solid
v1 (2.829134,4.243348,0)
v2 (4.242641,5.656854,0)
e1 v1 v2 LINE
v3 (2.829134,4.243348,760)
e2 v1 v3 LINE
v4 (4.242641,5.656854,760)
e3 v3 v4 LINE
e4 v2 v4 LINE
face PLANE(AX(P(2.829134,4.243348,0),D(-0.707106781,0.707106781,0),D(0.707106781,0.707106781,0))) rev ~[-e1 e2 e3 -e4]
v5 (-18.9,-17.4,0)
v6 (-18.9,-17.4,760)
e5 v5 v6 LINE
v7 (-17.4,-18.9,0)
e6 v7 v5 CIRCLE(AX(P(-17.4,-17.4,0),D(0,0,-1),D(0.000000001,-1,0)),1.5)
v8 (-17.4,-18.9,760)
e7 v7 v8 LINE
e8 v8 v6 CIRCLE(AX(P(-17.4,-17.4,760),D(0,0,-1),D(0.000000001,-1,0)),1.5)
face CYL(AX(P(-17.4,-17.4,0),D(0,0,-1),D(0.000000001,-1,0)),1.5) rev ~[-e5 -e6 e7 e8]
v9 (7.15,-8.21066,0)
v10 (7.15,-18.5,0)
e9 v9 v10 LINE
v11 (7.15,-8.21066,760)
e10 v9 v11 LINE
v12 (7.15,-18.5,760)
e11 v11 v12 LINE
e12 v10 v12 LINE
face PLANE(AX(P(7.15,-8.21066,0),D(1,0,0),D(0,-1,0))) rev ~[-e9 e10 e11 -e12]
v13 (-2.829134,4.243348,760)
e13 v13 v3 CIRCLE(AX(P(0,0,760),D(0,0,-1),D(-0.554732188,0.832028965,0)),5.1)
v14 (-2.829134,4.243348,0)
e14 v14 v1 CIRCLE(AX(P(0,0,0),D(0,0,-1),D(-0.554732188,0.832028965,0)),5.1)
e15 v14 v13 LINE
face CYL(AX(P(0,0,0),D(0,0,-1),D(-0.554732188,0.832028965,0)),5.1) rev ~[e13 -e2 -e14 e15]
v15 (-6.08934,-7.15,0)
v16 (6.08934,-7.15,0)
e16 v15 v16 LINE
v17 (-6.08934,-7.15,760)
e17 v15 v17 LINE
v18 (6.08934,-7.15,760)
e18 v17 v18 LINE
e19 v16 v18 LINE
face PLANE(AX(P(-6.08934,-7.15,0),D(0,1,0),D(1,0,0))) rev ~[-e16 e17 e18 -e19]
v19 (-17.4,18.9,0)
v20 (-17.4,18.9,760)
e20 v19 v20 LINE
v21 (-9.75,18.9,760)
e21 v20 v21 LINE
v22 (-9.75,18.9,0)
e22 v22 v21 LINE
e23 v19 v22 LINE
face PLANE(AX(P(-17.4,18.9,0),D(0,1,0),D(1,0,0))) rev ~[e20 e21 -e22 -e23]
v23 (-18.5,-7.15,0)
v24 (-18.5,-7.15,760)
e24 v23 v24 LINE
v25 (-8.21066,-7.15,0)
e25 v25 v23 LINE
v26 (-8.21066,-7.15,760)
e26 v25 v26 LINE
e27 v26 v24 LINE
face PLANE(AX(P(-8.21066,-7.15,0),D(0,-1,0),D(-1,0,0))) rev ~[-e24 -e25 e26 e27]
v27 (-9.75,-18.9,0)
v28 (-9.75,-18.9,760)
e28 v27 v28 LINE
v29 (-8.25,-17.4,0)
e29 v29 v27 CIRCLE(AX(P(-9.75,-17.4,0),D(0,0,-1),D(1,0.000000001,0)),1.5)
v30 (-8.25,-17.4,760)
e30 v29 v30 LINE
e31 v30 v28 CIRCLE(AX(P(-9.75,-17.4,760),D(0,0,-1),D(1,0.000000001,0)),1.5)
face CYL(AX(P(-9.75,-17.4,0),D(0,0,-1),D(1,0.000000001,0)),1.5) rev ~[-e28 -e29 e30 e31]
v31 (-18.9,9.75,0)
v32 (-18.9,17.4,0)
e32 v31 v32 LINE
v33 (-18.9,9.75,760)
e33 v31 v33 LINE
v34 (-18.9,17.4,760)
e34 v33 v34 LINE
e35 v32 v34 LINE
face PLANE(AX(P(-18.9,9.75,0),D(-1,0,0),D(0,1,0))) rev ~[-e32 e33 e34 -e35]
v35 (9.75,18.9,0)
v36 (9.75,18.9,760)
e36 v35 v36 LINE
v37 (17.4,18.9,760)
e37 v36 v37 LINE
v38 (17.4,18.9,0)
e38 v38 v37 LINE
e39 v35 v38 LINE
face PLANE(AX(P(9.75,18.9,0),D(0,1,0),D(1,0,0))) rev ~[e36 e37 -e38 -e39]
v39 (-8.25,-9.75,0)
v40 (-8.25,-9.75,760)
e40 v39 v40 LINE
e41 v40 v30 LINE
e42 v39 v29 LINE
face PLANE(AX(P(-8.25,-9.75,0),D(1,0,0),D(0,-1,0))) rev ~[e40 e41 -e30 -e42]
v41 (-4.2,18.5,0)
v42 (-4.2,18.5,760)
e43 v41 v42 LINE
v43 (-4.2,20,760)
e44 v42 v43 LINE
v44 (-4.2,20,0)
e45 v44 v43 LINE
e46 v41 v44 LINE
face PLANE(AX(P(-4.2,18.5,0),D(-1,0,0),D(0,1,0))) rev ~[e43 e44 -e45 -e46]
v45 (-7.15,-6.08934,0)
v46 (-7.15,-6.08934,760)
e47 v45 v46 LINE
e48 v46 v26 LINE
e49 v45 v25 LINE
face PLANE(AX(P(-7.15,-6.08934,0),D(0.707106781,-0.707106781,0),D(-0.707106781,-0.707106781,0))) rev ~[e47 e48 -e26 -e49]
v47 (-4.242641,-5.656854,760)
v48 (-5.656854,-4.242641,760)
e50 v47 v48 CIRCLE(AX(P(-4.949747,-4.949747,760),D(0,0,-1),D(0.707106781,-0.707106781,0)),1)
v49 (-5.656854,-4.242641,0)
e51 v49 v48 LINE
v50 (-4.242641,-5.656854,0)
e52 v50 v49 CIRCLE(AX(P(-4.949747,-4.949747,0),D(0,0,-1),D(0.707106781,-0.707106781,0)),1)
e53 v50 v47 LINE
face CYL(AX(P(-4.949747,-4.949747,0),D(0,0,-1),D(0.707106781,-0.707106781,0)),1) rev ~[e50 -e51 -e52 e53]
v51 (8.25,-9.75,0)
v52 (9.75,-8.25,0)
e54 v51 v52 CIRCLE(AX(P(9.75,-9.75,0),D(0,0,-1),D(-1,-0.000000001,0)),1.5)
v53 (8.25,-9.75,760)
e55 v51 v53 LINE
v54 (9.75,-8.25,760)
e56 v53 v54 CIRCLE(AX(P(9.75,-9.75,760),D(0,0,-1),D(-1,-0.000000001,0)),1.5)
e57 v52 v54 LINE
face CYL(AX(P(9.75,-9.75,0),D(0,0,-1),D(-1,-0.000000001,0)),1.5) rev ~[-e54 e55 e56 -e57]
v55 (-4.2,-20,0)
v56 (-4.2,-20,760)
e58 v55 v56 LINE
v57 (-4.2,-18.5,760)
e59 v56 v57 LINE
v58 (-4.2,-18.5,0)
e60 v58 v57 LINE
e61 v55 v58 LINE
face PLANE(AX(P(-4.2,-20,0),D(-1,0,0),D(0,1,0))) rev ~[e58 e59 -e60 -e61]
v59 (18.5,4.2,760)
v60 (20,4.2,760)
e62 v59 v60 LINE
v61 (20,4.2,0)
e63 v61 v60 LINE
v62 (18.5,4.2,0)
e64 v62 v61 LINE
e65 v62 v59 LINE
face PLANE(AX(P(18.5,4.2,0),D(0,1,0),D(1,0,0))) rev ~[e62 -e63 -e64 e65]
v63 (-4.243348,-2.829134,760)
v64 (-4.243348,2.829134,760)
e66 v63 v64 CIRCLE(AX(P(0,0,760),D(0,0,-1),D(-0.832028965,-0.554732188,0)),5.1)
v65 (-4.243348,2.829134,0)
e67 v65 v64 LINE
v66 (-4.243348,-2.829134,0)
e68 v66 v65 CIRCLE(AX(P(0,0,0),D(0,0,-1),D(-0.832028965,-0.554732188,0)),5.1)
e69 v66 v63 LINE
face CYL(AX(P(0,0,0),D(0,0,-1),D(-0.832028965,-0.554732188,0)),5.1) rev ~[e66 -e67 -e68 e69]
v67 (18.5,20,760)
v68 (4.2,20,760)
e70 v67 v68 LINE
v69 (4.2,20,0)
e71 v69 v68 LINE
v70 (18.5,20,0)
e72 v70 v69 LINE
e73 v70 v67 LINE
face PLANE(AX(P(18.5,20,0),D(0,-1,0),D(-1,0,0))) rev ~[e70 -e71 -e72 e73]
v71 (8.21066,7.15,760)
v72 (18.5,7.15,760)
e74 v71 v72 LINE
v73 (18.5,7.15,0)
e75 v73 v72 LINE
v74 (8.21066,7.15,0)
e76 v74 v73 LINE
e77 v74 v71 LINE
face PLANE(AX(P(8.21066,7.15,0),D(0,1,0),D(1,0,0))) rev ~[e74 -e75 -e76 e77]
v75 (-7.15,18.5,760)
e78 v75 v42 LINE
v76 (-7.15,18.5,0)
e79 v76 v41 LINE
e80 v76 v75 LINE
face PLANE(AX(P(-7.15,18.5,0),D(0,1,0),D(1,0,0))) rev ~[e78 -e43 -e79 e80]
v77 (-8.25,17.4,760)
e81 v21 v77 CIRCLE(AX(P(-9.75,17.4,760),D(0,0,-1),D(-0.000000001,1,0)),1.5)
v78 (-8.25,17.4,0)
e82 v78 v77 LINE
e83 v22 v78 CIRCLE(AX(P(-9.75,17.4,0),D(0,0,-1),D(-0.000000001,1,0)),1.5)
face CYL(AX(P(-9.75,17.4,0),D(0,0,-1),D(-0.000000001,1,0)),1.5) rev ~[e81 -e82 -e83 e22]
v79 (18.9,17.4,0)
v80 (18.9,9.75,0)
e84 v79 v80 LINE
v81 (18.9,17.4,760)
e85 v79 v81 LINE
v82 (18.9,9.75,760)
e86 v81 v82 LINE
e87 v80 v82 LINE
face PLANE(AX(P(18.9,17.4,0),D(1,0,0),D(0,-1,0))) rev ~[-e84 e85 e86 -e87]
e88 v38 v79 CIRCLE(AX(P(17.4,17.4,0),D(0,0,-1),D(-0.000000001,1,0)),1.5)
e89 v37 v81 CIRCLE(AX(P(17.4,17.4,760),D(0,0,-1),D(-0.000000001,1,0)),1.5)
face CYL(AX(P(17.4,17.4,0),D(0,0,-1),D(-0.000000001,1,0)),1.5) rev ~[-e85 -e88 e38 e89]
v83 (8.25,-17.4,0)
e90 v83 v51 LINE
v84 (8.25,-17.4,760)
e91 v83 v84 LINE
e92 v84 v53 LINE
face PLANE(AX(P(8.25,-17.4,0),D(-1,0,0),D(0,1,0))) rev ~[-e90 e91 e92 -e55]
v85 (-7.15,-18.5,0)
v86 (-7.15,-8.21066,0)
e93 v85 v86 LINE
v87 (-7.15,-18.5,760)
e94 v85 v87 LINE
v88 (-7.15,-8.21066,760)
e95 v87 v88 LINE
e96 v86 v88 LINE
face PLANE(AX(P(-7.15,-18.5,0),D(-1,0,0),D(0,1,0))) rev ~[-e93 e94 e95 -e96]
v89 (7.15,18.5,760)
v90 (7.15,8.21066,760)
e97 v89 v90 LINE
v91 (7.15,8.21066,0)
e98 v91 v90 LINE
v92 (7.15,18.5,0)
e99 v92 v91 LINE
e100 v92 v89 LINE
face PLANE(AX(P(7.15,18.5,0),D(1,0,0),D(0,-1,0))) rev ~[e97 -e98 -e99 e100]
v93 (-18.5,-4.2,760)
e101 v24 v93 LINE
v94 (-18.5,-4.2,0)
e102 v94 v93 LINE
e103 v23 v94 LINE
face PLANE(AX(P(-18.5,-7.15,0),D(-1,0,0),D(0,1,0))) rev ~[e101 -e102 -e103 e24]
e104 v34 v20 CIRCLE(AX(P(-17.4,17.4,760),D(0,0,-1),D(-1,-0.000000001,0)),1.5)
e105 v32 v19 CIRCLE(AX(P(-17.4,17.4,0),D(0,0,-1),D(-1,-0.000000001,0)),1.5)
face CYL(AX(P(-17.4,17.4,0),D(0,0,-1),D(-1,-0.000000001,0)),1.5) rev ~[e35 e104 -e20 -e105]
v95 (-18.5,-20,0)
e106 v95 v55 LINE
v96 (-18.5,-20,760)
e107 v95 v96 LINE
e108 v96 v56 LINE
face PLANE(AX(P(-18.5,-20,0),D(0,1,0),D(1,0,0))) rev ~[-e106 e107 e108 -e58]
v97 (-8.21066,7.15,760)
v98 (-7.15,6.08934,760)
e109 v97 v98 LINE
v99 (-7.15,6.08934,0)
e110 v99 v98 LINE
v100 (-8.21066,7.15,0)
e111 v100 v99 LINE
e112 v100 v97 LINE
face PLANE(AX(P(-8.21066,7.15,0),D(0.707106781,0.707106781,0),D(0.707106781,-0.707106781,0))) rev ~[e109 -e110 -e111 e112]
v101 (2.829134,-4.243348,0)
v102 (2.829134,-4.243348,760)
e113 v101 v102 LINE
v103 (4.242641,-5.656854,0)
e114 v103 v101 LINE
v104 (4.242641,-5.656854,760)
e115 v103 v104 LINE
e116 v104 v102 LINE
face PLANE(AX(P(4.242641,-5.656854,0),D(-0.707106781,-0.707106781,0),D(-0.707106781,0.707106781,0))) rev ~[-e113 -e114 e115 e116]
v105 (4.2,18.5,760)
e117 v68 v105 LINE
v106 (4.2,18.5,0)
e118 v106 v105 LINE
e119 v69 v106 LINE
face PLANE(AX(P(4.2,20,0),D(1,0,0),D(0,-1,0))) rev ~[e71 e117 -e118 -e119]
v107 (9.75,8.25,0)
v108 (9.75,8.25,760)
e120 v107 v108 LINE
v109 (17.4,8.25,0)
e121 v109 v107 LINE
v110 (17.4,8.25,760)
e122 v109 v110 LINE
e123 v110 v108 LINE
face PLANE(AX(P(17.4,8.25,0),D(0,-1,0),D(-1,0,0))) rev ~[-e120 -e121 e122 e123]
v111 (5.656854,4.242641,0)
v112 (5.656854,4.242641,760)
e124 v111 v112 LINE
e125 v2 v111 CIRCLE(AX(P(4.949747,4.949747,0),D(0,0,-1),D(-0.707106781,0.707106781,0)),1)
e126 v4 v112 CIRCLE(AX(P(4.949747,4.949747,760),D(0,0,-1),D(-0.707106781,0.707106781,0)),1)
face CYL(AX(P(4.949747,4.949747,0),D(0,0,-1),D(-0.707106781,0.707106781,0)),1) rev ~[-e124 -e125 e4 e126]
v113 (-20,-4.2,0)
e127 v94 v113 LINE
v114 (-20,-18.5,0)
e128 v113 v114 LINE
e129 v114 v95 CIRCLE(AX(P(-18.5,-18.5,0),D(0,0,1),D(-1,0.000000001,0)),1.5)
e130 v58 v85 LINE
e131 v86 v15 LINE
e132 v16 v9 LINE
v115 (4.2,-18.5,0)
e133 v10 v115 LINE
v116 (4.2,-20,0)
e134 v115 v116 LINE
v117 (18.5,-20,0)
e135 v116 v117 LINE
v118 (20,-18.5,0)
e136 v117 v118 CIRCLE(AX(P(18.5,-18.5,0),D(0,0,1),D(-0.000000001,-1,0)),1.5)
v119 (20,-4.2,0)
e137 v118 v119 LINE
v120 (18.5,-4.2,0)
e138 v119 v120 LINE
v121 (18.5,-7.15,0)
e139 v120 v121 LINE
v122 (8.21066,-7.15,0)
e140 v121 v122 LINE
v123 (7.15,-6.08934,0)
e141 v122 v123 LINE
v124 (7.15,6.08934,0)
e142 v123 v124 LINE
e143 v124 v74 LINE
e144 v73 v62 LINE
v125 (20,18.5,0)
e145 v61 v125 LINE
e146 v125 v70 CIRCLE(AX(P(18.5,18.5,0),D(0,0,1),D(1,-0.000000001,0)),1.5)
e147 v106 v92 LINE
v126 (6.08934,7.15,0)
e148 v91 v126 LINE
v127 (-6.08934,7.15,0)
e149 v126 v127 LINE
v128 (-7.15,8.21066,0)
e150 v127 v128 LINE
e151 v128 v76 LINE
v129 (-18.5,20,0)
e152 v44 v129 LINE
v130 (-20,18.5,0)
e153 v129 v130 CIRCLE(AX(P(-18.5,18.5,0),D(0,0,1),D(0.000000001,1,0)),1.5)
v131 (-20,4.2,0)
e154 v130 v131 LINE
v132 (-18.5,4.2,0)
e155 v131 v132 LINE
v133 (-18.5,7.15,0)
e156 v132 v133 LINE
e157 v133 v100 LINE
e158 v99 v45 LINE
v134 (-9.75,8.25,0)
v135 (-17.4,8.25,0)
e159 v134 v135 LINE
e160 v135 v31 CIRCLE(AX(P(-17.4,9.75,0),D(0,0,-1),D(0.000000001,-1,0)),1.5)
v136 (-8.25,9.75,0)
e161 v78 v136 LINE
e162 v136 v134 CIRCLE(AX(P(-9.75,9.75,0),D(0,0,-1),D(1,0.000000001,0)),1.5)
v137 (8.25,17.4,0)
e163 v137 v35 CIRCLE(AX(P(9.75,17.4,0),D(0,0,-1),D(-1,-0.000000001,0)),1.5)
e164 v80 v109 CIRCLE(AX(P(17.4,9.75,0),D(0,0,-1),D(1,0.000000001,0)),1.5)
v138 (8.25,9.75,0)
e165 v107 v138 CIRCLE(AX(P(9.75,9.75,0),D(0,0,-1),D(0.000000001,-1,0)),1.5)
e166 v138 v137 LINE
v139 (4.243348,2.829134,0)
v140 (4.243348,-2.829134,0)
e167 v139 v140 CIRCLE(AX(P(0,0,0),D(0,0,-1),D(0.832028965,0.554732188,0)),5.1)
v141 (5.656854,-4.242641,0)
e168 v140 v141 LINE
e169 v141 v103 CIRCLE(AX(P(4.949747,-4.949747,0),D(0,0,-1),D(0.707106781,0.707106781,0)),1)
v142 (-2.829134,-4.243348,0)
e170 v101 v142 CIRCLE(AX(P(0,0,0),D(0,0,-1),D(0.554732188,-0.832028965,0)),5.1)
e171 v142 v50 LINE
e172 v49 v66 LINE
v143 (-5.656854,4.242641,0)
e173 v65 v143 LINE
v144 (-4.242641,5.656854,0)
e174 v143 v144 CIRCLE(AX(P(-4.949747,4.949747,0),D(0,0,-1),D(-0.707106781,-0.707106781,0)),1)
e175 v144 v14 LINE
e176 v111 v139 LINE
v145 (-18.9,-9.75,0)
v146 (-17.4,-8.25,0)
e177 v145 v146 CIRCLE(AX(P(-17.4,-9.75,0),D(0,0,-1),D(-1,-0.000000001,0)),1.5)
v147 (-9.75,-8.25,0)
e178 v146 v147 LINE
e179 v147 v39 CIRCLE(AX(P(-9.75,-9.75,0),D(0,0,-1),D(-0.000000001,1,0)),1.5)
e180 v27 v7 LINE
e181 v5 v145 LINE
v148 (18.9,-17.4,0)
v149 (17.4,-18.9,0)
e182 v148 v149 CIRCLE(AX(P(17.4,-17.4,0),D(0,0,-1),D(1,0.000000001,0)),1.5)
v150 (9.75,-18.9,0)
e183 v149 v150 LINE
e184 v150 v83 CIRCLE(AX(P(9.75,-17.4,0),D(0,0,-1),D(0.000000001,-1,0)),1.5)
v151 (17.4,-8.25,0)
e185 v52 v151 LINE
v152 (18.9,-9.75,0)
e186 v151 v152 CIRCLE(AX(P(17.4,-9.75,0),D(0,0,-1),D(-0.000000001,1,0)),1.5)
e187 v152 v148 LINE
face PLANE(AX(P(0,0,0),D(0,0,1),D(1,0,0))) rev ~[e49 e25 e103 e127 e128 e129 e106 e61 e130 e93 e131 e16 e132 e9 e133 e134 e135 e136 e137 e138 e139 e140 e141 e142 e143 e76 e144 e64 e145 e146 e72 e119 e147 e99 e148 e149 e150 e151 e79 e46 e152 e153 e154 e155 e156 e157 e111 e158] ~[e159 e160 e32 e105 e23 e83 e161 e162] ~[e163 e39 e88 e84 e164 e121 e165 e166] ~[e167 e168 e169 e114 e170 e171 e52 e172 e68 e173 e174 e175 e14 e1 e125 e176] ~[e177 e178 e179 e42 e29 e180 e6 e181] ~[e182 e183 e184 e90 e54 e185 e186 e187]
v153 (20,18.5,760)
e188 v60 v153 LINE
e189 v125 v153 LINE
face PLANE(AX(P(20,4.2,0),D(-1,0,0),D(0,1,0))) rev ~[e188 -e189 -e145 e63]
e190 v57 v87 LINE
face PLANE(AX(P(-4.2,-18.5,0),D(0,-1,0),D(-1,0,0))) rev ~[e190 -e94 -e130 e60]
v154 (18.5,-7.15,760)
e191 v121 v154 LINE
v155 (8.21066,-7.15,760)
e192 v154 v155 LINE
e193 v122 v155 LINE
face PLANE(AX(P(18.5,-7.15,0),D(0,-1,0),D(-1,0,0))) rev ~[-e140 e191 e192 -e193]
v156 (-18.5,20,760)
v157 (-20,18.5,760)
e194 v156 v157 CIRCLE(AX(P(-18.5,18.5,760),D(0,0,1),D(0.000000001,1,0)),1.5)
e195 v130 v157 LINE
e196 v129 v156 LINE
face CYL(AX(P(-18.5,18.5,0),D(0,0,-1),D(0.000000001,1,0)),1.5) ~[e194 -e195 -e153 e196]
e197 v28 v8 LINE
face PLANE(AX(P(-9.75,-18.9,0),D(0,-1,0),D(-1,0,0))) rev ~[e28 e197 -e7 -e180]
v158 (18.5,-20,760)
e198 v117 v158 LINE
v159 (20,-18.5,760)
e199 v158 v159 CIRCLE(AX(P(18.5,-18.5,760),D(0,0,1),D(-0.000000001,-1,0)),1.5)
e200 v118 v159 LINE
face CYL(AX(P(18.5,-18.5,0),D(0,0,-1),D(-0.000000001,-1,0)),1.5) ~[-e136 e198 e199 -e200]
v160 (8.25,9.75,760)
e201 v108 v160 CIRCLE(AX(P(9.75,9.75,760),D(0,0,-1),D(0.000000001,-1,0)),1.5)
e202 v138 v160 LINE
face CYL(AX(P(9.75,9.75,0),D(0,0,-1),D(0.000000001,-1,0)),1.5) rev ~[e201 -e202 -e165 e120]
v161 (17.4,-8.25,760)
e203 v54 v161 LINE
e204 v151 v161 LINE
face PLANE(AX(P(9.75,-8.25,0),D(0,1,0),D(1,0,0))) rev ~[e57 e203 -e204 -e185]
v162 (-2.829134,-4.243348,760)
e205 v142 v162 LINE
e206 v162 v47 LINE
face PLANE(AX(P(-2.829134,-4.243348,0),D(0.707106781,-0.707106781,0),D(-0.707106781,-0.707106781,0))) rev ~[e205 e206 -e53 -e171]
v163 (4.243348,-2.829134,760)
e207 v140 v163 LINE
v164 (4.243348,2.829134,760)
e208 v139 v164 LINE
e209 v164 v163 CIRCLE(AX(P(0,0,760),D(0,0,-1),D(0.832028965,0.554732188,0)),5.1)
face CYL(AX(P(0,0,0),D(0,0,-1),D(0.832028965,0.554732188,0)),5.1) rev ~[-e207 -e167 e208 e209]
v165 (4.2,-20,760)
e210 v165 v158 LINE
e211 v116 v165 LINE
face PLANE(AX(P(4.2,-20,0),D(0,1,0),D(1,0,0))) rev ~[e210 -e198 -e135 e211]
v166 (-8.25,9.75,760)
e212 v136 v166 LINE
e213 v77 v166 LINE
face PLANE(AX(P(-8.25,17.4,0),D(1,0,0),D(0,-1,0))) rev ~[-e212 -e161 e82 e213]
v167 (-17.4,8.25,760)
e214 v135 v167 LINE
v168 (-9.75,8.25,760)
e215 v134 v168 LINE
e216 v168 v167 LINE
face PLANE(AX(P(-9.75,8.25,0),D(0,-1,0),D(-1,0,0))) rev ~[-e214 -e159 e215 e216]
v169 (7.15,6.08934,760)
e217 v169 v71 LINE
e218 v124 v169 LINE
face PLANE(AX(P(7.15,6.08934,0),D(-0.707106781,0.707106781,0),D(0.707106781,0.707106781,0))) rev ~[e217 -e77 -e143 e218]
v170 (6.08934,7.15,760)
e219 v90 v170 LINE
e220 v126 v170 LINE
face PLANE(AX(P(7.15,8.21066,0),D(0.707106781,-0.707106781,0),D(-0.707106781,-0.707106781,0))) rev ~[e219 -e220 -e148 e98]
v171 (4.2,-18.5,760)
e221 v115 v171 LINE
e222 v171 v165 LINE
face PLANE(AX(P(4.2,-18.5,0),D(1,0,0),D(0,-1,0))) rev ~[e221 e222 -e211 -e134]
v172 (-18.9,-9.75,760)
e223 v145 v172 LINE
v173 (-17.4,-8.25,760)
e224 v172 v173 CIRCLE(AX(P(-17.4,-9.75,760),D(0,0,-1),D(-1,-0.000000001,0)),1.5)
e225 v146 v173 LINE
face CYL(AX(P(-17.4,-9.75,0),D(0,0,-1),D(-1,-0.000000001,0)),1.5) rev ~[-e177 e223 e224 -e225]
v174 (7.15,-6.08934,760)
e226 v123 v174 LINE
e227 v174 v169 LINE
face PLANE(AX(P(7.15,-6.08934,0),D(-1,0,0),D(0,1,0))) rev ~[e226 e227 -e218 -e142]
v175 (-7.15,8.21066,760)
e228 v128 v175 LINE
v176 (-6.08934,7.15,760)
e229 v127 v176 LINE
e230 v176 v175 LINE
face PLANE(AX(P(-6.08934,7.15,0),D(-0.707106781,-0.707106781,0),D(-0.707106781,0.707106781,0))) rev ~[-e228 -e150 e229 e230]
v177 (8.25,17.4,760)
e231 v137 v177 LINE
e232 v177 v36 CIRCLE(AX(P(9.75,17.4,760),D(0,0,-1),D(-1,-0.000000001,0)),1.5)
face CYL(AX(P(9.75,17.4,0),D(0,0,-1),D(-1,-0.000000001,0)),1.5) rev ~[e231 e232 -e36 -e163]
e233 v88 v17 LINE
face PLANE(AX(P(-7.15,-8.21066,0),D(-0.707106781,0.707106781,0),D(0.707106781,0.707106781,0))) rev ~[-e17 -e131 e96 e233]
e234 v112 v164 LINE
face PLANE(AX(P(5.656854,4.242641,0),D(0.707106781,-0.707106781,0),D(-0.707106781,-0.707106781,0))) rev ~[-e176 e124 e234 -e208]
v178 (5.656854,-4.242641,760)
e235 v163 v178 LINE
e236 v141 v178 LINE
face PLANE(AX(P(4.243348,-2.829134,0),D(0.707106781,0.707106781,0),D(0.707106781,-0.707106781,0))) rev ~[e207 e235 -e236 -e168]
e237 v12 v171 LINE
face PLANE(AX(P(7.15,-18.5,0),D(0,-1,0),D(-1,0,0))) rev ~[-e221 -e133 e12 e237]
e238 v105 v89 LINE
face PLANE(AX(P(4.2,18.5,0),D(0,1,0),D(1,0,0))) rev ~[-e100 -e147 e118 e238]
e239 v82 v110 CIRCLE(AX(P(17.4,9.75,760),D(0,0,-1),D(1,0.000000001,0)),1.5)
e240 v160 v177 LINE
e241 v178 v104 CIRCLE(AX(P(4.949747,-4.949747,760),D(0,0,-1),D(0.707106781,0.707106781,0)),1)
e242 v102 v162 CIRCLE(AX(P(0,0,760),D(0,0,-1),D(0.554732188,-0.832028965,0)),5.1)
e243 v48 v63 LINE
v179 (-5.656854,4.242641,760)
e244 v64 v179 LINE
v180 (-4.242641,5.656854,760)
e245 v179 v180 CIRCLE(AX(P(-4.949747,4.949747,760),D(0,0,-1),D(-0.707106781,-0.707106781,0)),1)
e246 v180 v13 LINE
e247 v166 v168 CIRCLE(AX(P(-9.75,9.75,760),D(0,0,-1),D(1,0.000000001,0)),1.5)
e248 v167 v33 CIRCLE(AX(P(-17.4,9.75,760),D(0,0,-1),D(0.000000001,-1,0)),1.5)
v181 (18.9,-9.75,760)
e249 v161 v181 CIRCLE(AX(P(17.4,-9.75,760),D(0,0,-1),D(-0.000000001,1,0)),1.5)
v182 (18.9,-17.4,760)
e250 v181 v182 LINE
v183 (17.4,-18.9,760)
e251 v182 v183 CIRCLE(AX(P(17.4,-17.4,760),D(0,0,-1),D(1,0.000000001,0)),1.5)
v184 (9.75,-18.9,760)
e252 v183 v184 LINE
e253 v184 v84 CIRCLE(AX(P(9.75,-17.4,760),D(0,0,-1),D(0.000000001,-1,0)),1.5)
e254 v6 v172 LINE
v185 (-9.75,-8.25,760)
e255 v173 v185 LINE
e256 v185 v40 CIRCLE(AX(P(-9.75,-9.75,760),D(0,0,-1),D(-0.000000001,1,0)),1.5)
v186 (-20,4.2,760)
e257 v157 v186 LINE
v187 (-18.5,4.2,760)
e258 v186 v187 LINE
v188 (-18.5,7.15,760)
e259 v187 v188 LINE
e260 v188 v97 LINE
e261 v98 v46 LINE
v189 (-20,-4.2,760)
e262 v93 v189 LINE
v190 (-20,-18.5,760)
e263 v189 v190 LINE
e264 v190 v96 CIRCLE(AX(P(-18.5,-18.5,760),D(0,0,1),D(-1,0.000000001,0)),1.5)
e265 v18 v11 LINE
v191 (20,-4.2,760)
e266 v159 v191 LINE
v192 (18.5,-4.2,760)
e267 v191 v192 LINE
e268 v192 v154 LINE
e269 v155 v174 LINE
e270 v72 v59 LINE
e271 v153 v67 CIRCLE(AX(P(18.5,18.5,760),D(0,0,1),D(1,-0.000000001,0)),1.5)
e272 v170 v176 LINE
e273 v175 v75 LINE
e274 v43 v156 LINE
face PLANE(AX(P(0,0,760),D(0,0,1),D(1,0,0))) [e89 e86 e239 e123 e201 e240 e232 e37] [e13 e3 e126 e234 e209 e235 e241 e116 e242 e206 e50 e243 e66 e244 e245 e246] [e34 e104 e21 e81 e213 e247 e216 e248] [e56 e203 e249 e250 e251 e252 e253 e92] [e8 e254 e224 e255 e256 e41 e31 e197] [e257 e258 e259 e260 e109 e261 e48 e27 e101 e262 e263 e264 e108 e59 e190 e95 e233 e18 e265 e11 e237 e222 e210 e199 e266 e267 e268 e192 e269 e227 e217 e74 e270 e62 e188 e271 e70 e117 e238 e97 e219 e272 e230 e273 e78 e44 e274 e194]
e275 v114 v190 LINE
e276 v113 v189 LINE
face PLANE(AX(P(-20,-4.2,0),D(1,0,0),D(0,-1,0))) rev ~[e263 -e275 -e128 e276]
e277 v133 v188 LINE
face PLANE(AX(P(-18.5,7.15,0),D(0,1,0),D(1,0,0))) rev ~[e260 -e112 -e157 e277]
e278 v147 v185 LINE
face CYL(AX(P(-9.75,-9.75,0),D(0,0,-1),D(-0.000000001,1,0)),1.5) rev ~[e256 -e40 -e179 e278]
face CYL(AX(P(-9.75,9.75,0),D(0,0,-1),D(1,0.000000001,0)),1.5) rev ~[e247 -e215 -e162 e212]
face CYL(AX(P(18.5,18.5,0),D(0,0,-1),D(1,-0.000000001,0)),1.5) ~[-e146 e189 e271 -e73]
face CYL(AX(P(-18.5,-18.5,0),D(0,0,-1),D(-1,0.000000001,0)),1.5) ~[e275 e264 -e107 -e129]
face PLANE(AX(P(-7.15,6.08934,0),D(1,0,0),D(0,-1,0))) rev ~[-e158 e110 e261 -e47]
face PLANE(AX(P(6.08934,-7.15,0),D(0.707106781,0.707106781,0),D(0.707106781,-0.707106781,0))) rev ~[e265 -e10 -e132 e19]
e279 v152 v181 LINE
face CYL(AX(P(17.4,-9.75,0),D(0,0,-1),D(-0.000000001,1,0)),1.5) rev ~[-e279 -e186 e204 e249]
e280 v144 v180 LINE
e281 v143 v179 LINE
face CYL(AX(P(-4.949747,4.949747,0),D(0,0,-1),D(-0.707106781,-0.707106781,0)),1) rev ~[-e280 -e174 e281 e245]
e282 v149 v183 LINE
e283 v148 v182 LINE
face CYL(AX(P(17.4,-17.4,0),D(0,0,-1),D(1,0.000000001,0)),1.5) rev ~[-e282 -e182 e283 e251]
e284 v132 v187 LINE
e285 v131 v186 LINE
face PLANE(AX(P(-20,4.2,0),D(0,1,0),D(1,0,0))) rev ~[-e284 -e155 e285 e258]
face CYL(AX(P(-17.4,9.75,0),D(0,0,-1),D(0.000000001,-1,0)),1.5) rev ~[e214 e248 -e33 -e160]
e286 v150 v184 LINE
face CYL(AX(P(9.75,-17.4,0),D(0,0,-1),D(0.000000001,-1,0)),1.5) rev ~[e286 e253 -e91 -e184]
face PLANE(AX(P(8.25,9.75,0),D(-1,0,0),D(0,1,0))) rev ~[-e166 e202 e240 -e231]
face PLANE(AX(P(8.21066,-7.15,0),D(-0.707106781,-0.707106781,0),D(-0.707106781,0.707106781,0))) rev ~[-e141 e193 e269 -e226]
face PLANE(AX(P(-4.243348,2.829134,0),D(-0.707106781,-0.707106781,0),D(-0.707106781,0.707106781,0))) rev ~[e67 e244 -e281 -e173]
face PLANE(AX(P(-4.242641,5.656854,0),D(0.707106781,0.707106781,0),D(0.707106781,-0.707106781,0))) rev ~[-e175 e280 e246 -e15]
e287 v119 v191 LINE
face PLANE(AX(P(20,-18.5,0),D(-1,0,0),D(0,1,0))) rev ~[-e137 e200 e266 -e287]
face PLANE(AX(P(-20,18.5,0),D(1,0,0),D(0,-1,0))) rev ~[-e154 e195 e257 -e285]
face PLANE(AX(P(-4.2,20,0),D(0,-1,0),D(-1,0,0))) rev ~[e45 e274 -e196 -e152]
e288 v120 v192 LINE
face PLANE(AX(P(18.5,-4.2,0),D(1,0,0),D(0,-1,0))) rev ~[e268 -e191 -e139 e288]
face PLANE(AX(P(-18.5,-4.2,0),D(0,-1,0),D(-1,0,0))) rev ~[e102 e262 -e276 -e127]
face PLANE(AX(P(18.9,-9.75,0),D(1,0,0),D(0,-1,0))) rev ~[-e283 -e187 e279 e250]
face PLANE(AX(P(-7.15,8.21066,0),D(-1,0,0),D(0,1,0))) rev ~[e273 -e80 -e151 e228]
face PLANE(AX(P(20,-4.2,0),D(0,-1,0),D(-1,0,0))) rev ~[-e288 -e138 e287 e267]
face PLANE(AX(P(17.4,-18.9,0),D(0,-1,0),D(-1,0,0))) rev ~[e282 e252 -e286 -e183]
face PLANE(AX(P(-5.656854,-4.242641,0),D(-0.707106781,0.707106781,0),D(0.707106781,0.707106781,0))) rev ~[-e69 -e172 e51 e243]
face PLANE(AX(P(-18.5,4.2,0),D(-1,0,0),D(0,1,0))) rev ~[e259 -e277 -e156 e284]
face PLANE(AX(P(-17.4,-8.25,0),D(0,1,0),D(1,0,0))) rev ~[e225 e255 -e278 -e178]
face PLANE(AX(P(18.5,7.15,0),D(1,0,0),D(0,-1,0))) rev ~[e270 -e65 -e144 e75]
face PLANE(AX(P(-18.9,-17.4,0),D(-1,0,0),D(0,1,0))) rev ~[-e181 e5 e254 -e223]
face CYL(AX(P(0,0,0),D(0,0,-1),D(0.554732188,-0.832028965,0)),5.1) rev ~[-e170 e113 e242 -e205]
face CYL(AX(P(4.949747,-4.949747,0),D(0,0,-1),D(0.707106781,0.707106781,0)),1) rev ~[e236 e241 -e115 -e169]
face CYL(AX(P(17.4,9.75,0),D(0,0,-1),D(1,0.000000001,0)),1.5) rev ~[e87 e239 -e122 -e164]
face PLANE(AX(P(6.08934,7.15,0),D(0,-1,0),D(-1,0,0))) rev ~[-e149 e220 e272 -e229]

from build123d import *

# Parameters (mm, degrees)
EXTRUDE_1_DEPTH = 760


with BuildPart() as part:
    # 草图1 → 凸台-拉伸1 (new body)
    with BuildSketch(Plane.XY):
        with BuildLine():
            Line((-6.089339828, -7.15), (6.089339828, -7.15))
            Line((6.089339828, -7.15), (7.15, -8.210660172))
            Line((7.15, -8.210660172), (7.15, -18.5))
            Line((7.15, -18.5), (4.2, -18.5))
            Line((4.2, -18.5), (4.2, -20))
            Line((4.2, -20), (18.5, -20))
            ThreePointArc((18.5, -20), (19.560660172, -19.560660172), (20, -18.5))
            Line((20, -18.5), (20, -4.2))
            Line((20, -4.2), (18.5, -4.2))
            Line((18.5, -4.2), (18.5, -7.15))
            Line((18.5, -7.15), (8.210660172, -7.15))
            Line((8.210660172, -7.15), (7.15, -6.089339828))
            Line((7.15, -6.089339828), (7.15, 6.089339828))
            Line((7.15, 6.089339828), (8.210660172, 7.15))
            Line((8.210660172, 7.15), (18.5, 7.15))
            Line((18.5, 7.15), (18.5, 4.2))
            Line((18.5, 4.2), (20, 4.2))
            Line((20, 4.2), (20, 18.5))
            ThreePointArc((20, 18.5), (19.560660172, 19.560660172), (18.5, 20))
            Line((18.5, 20), (4.2, 20))
            Line((4.2, 20), (4.2, 18.5))
            Line((4.2, 18.5), (7.15, 18.5))
            Line((7.15, 18.5), (7.15, 8.210660172))
            Line((7.15, 8.210660172), (6.089339828, 7.15))
            Line((6.089339828, 7.15), (-6.089339828, 7.15))
            Line((-6.089339828, 7.15), (-7.15, 8.210660172))
            Line((-7.15, 8.210660172), (-7.15, 18.5))
            Line((-7.15, 18.5), (-4.2, 18.5))
            Line((-4.2, 18.5), (-4.2, 20))
            Line((-4.2, 20), (-18.5, 20))
            ThreePointArc((-18.5, 20), (-19.560660172, 19.560660172), (-20, 18.5))
            Line((-20, 18.5), (-20, 4.2))
            Line((-20, 4.2), (-18.5, 4.2))
            Line((-18.5, 4.2), (-18.5, 7.15))
            Line((-18.5, 7.15), (-8.210660172, 7.15))
            Line((-8.210660172, 7.15), (-7.15, 6.089339828))
            Line((-7.15, 6.089339828), (-7.15, -6.089339828))
            Line((-7.15, -6.089339828), (-8.210660172, -7.15))
            Line((-8.210660172, -7.15), (-18.5, -7.15))
            Line((-18.5, -7.15), (-18.5, -4.2))
            Line((-18.5, -4.2), (-20, -4.2))
            Line((-20, -4.2), (-20, -18.5))
            ThreePointArc((-20, -18.5), (-19.560660172, -19.560660172), (-18.5, -20))
            Line((-18.5, -20), (-4.2, -20))
            Line((-4.2, -20), (-4.2, -18.5))
            Line((-4.2, -18.5), (-7.15, -18.5))
            Line((-7.15, -18.5), (-7.15, -8.210660172))
            Line((-7.15, -8.210660172), (-6.089339828, -7.15))
        make_face()
        with BuildLine():
            Line((17.4, 8.25), (9.75, 8.25))
            ThreePointArc((9.75, 8.25), (8.689339828, 8.689339828), (8.25, 9.75))
            Line((8.25, 9.75), (8.25, 17.4))
            ThreePointArc((8.25, 17.4), (8.689339828, 18.460660172), (9.75, 18.9))
            Line((9.75, 18.9), (17.4, 18.9))
            ThreePointArc((17.4, 18.9), (18.460660172, 18.460660172), (18.9, 17.4))
            Line((18.9, 17.4), (18.9, 9.75))
            ThreePointArc((18.9, 9.75), (18.460660172, 8.689339828), (17.4, 8.25))
        make_face(mode=Mode.SUBTRACT)
        with BuildLine():
            Line((-8.25, 17.4), (-8.25, 9.75))
            ThreePointArc((-8.25, 9.75), (-8.689339828, 8.689339828), (-9.75, 8.25))
            Line((-9.75, 8.25), (-17.4, 8.25))
            ThreePointArc((-17.4, 8.25), (-18.460660172, 8.689339828), (-18.9, 9.75))
            Line((-18.9, 9.75), (-18.9, 17.4))
            ThreePointArc((-18.9, 17.4), (-18.460660172, 18.460660172), (-17.4, 18.9))
            Line((-17.4, 18.9), (-9.75, 18.9))
            ThreePointArc((-9.75, 18.9), (-8.689339828, 18.460660172), (-8.25, 17.4))
        make_face(mode=Mode.SUBTRACT)
        with BuildLine():
            Line((-17.4, -8.25), (-9.75, -8.25))
            ThreePointArc((-9.75, -8.25), (-8.689339828, -8.689339828), (-8.25, -9.75))
            Line((-8.25, -9.75), (-8.25, -17.4))
            ThreePointArc((-8.25, -17.4), (-8.689339828, -18.460660172), (-9.75, -18.9))
            Line((-9.75, -18.9), (-17.4, -18.9))
            ThreePointArc((-17.4, -18.9), (-18.460660172, -18.460660172), (-18.9, -17.4))
            Line((-18.9, -17.4), (-18.9, -9.75))
            ThreePointArc((-18.9, -9.75), (-18.460660172, -8.689339828), (-17.4, -8.25))
        make_face(mode=Mode.SUBTRACT)
        with BuildLine():
            Line((8.25, -17.4), (8.25, -9.75))
            ThreePointArc((8.25, -9.75), (8.689339828, -8.689339828), (9.75, -8.25))
            Line((9.75, -8.25), (17.4, -8.25))
            ThreePointArc((17.4, -8.25), (18.460660172, -8.689339828), (18.9, -9.75))
            Line((18.9, -9.75), (18.9, -17.4))
            ThreePointArc((18.9, -17.4), (18.460660172, -18.460660172), (17.4, -18.9))
            Line((17.4, -18.9), (9.75, -18.9))
            ThreePointArc((9.75, -18.9), (8.689339828, -18.460660172), (8.25, -17.4))
        make_face(mode=Mode.SUBTRACT)
        with BuildLine():
            Line((-4.243347723, 2.829134161), (-5.656854249, 4.242640687))
            ThreePointArc((-5.656854249, 4.242640687), (-5.656854249, 5.656854249), (-4.242640687, 5.656854249))
            Line((-4.242640687, 5.656854249), (-2.829134161, 4.243347723))
            ThreePointArc((-2.829134161, 4.243347723), (0, 5.1), (2.829134161, 4.243347723))
            Line((2.829134161, 4.243347723), (4.242640687, 5.656854249))
            ThreePointArc((4.242640687, 5.656854249), (5.656854249, 5.656854249), (5.656854249, 4.242640687))
            Line((5.656854249, 4.242640687), (4.243347723, 2.829134161))
            ThreePointArc((4.243347723, 2.829134161), (5.1, 0), (4.243347723, -2.829134161))
            Line((4.243347723, -2.829134161), (5.656854249, -4.242640687))
            ThreePointArc((5.656854249, -4.242640687), (5.656854249, -5.656854249), (4.242640687, -5.656854249))
            Line((4.242640687, -5.656854249), (2.829134161, -4.243347723))
            ThreePointArc((2.829134161, -4.243347723), (0, -5.1), (-2.829134161, -4.243347723))
            Line((-2.829134161, -4.243347723), (-4.242640687, -5.656854249))
            ThreePointArc((-4.242640687, -5.656854249), (-5.656854249, -5.656854249), (-5.656854249, -4.242640687))
            Line((-5.656854249, -4.242640687), (-4.243347723, -2.829134161))
            ThreePointArc((-4.243347723, -2.829134161), (-5.1, 0), (-4.243347723, 2.829134161))
        make_face(mode=Mode.SUBTRACT)
    extrude(amount=EXTRUDE_1_DEPTH)


solid = part.part
